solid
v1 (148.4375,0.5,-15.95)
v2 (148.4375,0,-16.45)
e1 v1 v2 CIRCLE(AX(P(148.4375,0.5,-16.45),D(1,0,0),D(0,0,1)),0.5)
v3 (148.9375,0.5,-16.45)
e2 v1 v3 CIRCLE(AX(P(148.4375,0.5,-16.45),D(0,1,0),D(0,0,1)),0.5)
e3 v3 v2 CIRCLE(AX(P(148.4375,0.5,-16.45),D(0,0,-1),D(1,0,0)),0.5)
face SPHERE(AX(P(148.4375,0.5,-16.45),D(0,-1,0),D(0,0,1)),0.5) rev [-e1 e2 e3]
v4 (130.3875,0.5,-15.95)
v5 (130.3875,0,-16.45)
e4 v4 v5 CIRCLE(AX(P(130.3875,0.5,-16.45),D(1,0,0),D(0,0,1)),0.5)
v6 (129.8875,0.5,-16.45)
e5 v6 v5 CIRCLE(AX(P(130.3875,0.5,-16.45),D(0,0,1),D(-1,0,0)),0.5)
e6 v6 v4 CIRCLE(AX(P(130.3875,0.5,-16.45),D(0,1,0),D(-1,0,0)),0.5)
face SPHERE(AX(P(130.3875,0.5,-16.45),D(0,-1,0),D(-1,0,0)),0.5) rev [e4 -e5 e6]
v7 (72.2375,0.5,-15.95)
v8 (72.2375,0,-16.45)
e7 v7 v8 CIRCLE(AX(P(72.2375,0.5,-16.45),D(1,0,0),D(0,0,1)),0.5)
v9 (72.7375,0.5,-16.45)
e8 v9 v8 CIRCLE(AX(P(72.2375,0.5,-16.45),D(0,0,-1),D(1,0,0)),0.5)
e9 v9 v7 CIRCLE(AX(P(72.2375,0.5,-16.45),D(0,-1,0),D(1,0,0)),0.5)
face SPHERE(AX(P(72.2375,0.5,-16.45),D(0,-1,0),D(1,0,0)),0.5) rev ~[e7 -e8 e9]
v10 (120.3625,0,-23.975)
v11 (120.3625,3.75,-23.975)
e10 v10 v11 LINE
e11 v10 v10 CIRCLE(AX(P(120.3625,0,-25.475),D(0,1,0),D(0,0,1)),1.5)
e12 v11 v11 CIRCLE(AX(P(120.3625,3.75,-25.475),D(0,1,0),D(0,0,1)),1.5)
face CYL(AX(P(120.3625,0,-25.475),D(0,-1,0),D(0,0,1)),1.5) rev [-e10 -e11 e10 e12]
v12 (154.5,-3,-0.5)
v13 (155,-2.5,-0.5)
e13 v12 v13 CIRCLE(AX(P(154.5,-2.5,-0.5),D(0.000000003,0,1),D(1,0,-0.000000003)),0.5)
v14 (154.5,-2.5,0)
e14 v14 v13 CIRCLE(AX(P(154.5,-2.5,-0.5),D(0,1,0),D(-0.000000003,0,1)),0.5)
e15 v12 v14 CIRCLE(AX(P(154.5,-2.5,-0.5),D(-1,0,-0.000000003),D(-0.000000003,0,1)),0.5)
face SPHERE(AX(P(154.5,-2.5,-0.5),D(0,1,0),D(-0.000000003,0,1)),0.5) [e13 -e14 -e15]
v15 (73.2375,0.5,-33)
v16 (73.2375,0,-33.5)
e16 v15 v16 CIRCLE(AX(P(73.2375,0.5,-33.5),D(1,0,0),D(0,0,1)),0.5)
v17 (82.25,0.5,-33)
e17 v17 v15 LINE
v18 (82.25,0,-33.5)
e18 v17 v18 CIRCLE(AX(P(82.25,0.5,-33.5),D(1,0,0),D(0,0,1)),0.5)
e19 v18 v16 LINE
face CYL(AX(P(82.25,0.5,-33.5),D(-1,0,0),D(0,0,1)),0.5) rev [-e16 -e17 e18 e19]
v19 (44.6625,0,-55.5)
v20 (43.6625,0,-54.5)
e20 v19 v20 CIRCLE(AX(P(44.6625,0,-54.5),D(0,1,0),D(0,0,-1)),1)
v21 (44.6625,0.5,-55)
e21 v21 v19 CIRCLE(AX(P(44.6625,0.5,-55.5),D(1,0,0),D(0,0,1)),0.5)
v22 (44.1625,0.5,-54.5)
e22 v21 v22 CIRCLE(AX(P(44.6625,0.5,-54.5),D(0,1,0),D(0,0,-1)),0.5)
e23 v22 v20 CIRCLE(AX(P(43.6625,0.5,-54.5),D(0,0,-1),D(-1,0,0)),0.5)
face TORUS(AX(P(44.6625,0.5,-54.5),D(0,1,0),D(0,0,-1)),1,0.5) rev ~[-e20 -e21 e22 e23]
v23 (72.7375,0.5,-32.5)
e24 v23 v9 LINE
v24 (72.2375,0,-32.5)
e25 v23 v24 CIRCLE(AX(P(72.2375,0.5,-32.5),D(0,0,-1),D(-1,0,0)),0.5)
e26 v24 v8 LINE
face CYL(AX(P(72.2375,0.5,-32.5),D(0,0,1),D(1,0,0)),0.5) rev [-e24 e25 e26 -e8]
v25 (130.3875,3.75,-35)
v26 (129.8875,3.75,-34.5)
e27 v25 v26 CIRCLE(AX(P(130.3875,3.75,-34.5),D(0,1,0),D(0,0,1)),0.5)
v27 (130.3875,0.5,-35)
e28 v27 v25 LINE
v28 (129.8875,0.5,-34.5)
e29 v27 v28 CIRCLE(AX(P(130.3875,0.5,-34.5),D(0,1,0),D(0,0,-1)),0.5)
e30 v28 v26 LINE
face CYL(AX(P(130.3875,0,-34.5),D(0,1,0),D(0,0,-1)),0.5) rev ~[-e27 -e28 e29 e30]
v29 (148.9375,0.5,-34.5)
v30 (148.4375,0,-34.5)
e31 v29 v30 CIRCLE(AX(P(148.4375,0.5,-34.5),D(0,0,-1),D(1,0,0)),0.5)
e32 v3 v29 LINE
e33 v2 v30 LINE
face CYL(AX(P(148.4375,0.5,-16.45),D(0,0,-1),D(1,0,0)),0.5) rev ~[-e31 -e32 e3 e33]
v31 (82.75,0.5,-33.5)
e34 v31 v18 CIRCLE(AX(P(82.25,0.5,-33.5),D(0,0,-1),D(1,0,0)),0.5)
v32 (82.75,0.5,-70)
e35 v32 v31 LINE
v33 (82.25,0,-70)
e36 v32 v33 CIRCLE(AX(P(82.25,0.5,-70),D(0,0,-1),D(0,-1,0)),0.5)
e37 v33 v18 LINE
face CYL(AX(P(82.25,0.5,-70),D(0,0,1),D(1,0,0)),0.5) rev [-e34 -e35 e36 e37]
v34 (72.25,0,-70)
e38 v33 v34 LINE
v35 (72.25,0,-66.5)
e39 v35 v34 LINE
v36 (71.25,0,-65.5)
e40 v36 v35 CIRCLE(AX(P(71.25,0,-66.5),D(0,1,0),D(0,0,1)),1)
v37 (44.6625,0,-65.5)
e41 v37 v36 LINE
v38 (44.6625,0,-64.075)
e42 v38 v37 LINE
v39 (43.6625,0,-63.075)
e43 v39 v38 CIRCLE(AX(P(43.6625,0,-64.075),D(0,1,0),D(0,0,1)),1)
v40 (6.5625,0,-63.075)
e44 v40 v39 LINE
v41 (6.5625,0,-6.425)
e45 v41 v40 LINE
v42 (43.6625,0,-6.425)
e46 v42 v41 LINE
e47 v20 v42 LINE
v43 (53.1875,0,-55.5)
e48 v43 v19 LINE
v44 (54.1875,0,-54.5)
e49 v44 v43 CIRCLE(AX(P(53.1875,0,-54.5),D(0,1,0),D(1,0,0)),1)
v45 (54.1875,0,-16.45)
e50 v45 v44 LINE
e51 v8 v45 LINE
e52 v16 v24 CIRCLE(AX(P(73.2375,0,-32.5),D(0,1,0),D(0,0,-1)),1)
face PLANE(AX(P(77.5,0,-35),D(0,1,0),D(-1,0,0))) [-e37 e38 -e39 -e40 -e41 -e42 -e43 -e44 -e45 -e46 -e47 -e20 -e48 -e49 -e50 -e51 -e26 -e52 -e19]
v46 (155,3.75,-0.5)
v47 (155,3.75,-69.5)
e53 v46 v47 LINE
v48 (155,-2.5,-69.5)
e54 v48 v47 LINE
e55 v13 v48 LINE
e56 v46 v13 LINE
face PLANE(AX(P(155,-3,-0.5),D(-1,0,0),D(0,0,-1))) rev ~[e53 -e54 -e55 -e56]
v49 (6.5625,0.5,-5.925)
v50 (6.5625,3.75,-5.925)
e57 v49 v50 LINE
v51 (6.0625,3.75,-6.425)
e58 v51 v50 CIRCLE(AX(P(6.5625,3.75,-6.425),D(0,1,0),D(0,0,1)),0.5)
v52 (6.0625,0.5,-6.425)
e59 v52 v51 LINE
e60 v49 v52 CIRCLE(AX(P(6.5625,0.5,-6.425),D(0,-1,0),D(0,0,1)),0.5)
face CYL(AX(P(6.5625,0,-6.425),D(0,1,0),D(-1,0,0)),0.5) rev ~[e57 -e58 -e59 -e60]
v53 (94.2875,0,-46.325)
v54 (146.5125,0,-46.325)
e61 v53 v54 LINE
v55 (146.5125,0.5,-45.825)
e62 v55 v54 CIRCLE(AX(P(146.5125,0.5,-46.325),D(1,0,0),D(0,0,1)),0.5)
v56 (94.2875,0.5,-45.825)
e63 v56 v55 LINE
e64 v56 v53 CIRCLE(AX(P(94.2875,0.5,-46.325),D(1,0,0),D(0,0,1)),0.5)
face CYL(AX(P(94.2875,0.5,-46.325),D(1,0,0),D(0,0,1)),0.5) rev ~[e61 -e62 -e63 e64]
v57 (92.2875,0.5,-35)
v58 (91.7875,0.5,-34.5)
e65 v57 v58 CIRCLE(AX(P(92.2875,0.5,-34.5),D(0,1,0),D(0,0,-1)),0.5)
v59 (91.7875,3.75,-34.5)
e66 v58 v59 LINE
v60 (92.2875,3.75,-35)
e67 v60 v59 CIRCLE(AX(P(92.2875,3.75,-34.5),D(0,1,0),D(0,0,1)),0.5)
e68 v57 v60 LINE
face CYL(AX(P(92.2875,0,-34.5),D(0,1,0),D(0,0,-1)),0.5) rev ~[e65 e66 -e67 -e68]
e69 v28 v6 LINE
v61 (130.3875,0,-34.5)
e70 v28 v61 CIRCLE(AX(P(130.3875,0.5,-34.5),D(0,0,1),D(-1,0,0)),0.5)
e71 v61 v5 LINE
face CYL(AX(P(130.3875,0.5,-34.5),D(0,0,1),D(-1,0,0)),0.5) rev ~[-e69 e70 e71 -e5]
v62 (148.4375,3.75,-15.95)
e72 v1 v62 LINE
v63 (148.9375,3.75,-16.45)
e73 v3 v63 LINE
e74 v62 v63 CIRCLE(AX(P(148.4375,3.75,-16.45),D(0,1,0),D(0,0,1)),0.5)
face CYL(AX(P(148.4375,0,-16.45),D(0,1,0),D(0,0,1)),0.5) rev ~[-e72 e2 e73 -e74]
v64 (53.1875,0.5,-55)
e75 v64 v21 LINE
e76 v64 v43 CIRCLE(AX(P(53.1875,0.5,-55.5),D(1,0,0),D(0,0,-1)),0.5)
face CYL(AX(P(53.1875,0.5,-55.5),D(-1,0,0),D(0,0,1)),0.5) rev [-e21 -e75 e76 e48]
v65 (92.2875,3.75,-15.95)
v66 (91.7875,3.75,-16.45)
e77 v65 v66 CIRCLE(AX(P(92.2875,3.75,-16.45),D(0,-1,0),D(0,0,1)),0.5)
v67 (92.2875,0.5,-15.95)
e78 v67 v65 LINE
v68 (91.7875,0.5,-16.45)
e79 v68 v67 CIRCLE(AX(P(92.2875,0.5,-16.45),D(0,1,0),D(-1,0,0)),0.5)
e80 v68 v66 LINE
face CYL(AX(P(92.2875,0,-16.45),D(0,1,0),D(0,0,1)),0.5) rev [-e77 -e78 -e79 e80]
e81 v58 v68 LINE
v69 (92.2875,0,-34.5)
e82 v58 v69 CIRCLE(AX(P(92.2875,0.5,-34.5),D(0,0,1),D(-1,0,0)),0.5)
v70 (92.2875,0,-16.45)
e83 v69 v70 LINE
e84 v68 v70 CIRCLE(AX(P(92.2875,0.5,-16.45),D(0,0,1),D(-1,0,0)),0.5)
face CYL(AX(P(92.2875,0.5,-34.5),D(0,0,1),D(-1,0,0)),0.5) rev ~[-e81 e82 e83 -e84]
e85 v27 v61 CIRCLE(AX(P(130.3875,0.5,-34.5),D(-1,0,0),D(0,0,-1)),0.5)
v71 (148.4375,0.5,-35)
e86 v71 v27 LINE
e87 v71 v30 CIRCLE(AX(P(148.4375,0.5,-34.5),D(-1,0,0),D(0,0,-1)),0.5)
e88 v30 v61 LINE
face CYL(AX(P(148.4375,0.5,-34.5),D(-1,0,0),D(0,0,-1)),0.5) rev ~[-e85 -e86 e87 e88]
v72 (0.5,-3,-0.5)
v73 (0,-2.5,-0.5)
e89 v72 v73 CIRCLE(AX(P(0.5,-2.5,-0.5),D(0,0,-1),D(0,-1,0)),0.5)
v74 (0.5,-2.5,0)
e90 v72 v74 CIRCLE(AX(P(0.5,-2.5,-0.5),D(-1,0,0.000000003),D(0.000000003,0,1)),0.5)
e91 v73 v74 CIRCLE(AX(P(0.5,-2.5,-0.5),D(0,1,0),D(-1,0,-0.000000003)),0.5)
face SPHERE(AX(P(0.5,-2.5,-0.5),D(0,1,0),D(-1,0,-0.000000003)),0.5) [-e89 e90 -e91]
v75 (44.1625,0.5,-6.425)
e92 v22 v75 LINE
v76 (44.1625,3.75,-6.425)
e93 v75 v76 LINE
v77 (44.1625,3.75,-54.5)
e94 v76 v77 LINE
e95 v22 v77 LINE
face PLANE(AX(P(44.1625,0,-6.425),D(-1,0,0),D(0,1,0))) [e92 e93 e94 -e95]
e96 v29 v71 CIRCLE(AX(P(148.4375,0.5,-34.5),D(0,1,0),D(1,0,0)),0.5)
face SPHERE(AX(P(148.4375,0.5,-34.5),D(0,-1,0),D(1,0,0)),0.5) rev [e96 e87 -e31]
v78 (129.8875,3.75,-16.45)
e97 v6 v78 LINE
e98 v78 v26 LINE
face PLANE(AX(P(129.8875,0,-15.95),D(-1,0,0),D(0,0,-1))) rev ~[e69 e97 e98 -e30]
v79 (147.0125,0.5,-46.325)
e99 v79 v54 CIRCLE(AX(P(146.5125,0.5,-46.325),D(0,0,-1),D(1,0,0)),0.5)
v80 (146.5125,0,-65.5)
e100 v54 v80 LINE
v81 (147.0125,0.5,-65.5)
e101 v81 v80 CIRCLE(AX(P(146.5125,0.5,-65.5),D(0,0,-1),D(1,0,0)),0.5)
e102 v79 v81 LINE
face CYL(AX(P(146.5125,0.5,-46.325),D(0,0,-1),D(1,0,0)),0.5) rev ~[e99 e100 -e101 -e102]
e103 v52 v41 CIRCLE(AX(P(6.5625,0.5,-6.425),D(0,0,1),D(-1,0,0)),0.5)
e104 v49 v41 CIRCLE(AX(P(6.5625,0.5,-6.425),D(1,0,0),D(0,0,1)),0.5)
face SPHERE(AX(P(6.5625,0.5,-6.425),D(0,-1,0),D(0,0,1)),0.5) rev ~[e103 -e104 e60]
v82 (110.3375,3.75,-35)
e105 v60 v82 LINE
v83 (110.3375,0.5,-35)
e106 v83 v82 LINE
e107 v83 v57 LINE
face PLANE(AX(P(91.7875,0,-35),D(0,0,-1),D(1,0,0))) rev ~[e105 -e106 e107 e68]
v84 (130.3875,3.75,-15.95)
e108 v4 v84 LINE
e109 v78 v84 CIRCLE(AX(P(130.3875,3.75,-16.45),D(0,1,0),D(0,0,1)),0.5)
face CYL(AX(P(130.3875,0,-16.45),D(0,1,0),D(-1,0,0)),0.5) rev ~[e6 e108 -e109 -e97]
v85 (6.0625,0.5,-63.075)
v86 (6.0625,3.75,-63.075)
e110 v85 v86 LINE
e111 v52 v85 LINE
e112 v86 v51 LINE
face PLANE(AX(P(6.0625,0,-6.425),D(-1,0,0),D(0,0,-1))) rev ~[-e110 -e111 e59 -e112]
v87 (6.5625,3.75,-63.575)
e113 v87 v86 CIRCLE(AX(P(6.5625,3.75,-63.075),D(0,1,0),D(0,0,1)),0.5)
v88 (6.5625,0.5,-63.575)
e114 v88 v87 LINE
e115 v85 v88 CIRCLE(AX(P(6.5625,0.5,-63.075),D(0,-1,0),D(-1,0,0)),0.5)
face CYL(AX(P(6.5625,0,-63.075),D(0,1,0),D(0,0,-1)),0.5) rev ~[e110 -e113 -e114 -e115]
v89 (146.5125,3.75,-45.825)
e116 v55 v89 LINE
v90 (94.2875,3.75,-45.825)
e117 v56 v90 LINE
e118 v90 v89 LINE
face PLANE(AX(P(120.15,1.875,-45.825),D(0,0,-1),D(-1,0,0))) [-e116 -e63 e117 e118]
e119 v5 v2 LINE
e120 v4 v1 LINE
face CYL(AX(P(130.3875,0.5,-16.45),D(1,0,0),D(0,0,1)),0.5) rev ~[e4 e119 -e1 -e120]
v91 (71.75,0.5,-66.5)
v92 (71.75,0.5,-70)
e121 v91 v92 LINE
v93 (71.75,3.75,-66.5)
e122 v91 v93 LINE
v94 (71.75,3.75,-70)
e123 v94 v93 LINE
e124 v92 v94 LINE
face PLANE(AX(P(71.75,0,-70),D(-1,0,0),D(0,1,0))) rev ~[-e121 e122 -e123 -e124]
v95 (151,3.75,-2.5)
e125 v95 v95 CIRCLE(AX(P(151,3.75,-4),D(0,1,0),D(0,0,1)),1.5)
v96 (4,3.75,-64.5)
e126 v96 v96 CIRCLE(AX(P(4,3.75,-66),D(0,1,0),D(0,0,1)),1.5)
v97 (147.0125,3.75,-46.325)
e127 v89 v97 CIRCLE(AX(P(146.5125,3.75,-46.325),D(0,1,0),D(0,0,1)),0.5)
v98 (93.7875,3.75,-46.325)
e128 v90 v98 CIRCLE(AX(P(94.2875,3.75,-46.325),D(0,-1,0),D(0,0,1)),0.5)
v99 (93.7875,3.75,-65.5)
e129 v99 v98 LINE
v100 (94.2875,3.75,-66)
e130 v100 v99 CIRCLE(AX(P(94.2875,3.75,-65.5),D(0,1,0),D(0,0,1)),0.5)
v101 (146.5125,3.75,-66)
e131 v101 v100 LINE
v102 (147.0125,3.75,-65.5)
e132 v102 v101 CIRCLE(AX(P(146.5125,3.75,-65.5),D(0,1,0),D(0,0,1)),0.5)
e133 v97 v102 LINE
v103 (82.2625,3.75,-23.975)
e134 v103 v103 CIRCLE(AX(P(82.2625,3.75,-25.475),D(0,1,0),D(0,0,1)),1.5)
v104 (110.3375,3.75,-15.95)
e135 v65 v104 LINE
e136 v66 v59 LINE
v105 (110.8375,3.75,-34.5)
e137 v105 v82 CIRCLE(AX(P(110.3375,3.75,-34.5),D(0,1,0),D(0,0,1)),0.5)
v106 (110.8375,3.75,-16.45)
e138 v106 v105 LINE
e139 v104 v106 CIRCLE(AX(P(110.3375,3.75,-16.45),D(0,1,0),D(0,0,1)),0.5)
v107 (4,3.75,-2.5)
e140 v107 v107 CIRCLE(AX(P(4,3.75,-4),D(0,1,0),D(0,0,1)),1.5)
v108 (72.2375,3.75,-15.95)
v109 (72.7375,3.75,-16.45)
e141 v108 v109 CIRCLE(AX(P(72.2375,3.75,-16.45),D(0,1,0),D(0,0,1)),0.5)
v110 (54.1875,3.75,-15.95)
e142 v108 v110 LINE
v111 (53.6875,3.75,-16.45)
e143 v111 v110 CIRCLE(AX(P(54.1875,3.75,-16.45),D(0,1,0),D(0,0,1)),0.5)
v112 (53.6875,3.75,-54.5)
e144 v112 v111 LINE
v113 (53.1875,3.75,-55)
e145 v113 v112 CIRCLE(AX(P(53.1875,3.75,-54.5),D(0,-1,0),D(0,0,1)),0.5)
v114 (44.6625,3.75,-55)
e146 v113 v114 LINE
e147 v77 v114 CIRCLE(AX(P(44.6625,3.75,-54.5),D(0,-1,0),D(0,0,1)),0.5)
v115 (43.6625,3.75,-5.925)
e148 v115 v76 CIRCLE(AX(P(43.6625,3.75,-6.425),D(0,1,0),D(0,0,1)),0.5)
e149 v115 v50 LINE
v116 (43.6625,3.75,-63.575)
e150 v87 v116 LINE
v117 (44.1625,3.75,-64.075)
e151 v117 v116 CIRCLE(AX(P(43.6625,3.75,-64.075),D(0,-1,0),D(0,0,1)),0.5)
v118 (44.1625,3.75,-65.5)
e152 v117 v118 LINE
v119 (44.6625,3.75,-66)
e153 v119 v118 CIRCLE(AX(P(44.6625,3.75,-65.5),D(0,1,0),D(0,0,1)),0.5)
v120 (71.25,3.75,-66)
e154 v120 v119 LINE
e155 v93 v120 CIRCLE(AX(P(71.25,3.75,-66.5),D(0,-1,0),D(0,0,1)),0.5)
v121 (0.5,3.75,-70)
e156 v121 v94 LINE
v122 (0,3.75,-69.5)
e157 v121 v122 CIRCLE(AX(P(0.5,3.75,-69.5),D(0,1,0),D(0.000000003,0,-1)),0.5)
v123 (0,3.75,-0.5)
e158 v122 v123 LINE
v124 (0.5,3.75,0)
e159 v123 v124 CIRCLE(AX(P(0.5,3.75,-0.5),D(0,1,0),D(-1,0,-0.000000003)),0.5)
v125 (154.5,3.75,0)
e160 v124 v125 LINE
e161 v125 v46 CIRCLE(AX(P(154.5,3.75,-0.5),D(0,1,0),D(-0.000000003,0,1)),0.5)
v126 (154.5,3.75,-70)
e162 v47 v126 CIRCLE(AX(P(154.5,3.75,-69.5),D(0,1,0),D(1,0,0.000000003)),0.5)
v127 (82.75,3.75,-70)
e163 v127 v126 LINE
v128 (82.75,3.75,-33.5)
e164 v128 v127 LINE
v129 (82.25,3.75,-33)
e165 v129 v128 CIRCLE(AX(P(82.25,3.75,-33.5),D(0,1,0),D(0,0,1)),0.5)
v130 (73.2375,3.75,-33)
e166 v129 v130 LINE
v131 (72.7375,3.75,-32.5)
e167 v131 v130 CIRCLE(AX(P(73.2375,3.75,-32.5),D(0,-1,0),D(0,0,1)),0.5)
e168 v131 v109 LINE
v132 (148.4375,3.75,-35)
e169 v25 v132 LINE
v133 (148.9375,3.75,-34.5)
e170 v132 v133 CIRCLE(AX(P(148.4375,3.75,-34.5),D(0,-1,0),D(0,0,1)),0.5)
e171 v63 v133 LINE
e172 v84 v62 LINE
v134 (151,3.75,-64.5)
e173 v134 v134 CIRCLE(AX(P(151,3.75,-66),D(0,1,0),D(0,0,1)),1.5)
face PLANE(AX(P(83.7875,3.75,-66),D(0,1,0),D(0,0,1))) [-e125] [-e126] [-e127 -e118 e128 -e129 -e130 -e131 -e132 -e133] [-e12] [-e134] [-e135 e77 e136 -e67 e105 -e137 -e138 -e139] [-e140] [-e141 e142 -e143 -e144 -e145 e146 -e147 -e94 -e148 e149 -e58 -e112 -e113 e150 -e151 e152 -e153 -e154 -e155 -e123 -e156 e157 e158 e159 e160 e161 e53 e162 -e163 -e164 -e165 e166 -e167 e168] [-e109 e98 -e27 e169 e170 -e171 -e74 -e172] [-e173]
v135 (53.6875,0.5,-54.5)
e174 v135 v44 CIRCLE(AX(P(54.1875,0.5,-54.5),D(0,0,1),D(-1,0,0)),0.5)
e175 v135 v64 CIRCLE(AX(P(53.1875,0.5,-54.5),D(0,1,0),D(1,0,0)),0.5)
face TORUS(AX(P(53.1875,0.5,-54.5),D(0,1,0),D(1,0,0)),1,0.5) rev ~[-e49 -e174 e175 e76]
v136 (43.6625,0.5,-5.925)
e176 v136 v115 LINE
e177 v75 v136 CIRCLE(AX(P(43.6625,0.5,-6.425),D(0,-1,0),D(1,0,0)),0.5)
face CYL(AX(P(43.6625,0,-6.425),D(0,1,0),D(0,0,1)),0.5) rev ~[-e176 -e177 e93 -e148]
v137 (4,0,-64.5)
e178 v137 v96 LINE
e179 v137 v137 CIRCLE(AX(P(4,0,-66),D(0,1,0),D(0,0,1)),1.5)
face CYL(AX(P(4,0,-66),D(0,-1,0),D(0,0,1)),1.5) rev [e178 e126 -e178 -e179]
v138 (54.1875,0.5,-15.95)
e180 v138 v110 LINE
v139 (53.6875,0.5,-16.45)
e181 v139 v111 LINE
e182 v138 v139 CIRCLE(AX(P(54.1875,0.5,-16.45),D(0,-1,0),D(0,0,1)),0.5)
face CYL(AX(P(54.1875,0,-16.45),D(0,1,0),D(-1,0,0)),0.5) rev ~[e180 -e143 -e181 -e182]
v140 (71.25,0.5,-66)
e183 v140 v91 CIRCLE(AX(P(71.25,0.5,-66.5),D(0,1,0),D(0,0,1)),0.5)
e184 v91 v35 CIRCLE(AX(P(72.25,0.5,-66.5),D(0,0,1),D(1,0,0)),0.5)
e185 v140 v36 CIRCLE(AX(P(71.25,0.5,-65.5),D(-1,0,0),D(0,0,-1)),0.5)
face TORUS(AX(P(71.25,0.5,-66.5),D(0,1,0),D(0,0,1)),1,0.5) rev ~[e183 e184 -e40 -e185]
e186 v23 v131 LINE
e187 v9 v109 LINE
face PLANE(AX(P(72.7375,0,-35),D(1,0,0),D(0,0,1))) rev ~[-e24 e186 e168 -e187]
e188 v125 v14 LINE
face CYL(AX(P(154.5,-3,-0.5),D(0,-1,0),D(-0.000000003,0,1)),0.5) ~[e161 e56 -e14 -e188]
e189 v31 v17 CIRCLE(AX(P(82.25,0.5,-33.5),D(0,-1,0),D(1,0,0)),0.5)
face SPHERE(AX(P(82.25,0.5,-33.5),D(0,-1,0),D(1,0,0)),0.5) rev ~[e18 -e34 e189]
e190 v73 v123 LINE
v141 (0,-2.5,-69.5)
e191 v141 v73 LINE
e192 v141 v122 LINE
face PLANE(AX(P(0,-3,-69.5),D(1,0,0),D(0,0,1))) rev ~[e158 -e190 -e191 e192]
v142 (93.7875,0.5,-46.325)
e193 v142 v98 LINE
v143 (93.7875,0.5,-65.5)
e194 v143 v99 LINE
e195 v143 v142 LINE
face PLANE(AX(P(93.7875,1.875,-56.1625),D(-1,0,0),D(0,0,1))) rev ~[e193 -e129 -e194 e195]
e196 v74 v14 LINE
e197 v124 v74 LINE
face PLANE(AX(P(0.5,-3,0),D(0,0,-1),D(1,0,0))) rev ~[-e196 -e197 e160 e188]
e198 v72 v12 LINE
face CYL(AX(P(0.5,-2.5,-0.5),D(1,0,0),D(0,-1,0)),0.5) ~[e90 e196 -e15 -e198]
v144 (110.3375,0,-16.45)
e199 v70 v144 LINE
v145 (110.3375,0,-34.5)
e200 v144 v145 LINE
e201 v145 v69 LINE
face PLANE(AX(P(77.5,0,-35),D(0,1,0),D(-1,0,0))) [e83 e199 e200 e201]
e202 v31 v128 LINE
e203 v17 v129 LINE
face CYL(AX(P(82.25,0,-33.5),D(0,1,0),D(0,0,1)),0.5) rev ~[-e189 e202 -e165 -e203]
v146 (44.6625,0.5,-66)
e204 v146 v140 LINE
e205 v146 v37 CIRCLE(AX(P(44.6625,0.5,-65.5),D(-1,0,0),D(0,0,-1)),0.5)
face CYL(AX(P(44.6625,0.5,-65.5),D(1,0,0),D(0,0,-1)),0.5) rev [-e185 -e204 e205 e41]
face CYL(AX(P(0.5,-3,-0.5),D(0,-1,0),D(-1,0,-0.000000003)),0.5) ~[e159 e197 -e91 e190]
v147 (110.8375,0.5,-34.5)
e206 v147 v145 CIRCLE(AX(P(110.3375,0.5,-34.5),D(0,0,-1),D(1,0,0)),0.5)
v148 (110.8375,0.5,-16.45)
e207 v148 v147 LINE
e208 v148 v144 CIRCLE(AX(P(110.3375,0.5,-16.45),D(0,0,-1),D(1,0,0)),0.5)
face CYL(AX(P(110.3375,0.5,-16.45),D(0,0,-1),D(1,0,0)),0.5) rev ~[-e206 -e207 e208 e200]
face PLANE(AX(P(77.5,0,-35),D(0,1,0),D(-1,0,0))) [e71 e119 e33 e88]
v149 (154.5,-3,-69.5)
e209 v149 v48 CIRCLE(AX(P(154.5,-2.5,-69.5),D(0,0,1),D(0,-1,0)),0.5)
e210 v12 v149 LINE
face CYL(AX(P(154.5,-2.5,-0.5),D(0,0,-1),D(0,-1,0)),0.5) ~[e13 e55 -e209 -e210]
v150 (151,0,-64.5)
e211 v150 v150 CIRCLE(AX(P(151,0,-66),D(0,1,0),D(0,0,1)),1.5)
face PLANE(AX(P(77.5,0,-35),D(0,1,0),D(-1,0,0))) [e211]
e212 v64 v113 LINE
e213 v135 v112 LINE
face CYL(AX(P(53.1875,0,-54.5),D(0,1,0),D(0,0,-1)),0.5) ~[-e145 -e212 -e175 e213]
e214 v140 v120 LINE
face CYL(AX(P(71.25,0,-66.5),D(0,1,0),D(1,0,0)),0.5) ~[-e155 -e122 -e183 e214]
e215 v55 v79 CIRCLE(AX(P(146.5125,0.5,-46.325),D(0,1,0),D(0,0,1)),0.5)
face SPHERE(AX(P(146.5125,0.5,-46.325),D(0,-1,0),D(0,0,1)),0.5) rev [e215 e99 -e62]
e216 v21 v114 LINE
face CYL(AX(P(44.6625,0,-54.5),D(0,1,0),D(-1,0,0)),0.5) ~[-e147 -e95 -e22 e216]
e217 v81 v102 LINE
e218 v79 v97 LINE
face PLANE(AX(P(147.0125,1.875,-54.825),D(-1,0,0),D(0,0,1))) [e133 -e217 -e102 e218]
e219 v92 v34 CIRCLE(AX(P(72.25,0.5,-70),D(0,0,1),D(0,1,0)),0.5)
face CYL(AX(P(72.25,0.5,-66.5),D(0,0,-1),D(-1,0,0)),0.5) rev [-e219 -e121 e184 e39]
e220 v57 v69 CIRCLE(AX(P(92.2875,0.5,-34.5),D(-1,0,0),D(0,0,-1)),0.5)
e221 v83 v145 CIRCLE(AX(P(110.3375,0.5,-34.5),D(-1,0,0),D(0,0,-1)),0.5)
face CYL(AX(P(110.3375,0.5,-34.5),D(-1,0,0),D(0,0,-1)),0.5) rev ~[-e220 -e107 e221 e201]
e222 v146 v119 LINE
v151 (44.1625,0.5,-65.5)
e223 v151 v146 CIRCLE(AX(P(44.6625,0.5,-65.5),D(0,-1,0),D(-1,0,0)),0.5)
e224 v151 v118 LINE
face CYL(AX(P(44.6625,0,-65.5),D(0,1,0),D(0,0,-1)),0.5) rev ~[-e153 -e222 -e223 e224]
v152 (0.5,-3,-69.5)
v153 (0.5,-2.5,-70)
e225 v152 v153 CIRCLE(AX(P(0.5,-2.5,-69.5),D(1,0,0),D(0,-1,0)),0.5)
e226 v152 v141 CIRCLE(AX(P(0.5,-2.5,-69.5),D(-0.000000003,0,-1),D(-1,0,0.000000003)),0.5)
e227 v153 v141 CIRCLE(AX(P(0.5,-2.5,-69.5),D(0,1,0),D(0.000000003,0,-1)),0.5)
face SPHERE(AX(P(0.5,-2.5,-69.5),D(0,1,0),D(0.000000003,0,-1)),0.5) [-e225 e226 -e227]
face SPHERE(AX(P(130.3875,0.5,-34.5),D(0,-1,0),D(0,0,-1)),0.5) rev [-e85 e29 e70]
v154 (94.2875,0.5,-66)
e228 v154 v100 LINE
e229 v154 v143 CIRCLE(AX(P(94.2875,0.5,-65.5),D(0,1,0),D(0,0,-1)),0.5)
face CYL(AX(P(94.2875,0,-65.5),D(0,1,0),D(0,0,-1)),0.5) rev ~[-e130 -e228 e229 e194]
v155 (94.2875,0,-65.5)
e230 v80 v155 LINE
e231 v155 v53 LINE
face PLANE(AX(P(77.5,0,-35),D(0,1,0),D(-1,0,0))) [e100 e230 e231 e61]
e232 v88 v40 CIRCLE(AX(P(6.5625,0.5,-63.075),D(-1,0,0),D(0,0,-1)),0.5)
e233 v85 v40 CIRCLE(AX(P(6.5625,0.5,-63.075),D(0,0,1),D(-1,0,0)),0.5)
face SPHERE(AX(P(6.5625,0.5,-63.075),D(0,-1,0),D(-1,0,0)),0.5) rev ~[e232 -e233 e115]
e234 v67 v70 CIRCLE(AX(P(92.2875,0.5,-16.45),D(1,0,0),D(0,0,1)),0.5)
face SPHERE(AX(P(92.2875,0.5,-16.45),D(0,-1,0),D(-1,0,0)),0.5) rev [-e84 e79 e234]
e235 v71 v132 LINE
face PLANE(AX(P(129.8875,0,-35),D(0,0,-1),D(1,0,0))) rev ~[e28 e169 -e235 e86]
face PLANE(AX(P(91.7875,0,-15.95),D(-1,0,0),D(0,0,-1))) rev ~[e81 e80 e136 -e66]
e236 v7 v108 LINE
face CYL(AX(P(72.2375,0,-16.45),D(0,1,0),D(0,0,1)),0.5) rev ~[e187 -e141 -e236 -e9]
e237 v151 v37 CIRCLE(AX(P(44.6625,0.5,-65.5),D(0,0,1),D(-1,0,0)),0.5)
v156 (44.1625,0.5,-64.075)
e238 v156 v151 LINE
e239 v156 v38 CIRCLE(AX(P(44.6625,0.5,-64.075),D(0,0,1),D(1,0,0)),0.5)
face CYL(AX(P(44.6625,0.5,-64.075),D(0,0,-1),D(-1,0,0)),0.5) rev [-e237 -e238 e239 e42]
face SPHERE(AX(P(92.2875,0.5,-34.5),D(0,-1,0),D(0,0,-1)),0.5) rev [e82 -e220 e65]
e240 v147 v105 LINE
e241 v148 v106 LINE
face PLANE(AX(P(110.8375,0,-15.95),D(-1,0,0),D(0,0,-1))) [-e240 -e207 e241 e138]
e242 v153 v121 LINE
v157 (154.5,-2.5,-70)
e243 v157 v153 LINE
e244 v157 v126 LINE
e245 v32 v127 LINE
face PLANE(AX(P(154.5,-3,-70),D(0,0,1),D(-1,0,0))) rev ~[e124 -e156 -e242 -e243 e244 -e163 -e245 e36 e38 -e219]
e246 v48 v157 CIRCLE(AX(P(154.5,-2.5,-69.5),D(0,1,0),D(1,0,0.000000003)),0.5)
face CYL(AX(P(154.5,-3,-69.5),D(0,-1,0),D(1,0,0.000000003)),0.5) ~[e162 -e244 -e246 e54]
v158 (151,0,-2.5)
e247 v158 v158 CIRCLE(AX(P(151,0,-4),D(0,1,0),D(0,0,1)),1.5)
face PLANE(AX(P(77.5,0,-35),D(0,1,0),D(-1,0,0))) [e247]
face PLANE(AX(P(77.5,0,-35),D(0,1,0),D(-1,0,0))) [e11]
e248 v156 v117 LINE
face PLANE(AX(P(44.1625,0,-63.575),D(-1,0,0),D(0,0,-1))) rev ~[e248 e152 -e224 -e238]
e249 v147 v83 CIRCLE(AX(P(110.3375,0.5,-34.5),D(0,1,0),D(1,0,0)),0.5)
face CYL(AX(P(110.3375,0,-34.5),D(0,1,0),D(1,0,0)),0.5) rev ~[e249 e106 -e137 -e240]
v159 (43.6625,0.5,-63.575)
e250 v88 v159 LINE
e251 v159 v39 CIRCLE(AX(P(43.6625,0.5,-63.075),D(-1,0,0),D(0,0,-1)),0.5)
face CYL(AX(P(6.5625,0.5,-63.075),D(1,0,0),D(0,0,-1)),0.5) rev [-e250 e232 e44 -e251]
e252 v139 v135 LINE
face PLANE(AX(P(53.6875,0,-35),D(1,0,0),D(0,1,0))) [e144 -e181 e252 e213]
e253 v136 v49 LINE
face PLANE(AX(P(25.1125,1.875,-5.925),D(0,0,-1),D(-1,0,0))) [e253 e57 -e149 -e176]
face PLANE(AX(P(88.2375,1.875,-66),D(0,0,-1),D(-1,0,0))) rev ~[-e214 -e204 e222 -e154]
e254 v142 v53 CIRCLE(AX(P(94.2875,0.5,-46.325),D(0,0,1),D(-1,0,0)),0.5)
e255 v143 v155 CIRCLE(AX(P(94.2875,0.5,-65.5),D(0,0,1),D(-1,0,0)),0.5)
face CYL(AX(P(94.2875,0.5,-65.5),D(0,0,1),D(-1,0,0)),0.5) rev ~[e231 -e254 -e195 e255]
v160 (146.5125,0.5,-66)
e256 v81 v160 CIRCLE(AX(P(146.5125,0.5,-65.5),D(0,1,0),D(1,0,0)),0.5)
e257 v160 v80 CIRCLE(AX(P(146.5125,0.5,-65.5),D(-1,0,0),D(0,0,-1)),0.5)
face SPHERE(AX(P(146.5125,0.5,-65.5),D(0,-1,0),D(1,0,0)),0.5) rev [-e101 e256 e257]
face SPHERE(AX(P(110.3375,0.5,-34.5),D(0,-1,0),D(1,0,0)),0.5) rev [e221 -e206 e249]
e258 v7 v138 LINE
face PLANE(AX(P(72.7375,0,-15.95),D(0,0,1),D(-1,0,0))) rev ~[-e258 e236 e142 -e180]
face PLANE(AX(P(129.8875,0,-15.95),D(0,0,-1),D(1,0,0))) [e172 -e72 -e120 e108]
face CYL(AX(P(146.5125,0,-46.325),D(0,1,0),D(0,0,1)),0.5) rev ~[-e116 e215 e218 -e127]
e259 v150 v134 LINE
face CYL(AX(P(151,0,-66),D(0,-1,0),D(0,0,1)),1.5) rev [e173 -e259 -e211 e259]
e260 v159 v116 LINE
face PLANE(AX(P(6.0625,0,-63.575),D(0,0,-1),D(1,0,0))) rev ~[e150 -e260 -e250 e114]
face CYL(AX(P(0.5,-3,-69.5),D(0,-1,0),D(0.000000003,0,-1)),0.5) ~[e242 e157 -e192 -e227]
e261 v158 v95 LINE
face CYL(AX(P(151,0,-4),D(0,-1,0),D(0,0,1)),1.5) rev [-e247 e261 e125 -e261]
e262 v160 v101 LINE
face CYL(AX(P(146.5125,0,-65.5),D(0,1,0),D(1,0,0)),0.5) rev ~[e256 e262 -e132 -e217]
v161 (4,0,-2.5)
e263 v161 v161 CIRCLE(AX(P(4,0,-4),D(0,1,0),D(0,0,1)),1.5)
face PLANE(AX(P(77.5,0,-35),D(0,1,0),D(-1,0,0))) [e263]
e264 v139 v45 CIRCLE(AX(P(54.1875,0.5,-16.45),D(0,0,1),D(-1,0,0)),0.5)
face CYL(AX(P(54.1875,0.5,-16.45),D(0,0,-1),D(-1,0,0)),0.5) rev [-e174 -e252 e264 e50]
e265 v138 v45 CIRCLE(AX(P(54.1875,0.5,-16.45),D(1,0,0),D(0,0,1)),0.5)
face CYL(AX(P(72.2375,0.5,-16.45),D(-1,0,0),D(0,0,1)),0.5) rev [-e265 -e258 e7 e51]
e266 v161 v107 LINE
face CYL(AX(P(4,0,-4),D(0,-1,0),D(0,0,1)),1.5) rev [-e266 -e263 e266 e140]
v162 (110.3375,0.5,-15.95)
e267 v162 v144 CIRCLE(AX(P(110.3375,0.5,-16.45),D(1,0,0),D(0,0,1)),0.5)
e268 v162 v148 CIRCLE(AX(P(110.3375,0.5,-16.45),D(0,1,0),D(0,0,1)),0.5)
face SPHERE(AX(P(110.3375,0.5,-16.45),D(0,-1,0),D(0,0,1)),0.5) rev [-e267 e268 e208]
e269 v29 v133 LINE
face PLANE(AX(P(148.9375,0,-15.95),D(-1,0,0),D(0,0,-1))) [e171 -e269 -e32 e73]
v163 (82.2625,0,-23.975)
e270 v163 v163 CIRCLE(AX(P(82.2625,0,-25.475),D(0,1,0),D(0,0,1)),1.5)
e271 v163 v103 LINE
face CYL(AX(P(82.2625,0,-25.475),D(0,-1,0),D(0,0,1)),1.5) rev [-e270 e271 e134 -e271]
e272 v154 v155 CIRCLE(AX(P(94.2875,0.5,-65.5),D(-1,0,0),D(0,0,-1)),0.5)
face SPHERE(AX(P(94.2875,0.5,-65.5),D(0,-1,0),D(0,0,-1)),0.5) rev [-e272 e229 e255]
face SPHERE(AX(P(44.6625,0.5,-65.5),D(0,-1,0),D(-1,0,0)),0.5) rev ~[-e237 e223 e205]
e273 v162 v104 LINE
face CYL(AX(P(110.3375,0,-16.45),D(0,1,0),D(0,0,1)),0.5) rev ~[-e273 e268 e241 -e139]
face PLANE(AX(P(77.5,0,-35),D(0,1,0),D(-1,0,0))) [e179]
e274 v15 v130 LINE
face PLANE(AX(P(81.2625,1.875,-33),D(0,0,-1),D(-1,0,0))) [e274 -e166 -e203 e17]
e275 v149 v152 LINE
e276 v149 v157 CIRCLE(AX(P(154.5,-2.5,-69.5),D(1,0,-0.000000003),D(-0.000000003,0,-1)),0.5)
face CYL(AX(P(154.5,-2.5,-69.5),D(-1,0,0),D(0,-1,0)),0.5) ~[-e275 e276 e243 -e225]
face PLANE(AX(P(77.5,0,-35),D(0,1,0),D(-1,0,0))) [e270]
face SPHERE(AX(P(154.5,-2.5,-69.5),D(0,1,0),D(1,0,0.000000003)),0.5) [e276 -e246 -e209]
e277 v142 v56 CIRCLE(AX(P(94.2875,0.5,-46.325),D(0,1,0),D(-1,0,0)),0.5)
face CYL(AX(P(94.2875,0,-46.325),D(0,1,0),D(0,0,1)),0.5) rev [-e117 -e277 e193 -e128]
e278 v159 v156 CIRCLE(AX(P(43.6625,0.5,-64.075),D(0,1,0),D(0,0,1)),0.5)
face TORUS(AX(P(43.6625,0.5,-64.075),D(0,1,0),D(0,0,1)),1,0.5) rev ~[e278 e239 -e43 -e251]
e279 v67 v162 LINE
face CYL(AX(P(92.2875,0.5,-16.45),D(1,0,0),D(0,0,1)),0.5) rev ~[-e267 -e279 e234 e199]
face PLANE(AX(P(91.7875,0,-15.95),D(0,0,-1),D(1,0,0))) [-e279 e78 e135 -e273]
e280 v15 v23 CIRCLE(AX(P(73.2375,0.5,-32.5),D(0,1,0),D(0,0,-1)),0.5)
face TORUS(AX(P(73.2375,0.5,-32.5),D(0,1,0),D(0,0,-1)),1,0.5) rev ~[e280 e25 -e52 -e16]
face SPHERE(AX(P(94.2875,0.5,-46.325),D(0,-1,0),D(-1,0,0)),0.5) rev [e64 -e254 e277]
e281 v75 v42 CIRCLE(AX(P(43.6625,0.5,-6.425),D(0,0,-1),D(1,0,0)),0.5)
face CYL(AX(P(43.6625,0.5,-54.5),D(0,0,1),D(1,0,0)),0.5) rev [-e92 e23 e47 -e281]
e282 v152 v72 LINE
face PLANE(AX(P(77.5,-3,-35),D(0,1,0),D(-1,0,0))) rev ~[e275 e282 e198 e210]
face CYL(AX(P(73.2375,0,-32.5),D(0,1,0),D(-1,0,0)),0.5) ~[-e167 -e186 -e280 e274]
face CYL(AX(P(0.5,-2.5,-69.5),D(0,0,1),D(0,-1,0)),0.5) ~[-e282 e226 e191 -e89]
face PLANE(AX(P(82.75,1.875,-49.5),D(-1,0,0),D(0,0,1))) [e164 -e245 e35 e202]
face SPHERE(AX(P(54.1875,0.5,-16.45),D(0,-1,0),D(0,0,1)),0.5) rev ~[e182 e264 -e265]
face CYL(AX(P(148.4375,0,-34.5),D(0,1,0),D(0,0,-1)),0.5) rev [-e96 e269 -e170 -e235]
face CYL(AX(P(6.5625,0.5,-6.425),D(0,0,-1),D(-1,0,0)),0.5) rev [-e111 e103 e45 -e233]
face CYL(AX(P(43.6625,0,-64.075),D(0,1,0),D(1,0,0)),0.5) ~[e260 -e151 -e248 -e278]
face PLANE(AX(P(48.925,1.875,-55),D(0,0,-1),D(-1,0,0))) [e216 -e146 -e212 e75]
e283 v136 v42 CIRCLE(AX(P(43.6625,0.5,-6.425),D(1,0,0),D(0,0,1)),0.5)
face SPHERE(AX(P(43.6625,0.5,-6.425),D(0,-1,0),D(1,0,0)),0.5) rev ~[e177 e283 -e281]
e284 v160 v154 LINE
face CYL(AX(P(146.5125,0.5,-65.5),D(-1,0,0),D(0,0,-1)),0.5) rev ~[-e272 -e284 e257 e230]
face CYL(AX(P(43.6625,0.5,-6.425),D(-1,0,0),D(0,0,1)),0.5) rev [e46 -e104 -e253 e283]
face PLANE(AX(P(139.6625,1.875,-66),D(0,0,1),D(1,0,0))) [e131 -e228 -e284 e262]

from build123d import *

# Parameters (mm, degrees)
SKETCH1_R           = 1.5
SKETCH1_W           = 19.05
SKETCH1_H           = 19.05
BOSS_EXTRUDE1_DEPTH = 3.75
SKETCH2_W           = 9.525
SKETCH2_H           = 3.75
BOSS_EXTRUDE2_DEPTH = 20
SKETCH3_W           = 17.05
SKETCH3_H           = 3.75
CUT_EXTRUDE1_DEPTH  = 2
SKETCH4_W           = 88.15
SKETCH4_H           = 3.75
BOSS_EXTRUDE3_DEPTH = 4
SKETCH5_W           = 13.325
SKETCH5_H           = 3.75
BOSS_EXTRUDE4_DEPTH = 6
SKETCH6_W           = 19.675
SKETCH6_H           = 3.75
BOSS_EXTRUDE5_DEPTH = 10
SKETCH7_W           = 11
SKETCH7_H           = 3.75
CUT_EXTRUDE2_DEPTH  = 4
SKETCH8_W           = 33
SKETCH8_H           = 3.75
BOSS_EXTRUDE6_DEPTH = 1.0375
SKETCH9_W           = 38.1
SKETCH9_H           = 3.75
CUT_EXTRUDE3_DEPTH  = 0.5
SKETCH10_W          = 52.725
SKETCH10_H          = 3.75
CUT_EXTRUDE4_DEPTH  = 0.5
SKETCH11_W          = 18
SKETCH11_H          = 3.75
CUT_EXTRUDE5_DEPTH  = 0.5
SKETCH13_W          = 14.7
SKETCH13_H          = 3.75
CUT_EXTRUDE6_DEPTH  = 2.175
FILLET1_R           = 0.5
BOSS_EXTRUDE7_START = 3
BOSS_EXTRUDE7_DEPTH = 3
FILLET2_R           = 0.5
FILLET3_R           = 0.5


with BuildPart() as part:
    # Sketch1 → Boss-Extrude1 (new body)
    with BuildSketch(Plane(origin=(0, 0, 0), x_dir=(1, 0, 0), z_dir=(0, 1, 0))):
        with BuildLine():
            ThreePointArc((0, 0.5), (0.146446609, 0.146446609), (0.5, 0))
            Line((0.5, 0), (154.5, 0))
            ThreePointArc((154.5, 0), (154.853553391, 0.146446609), (155, 0.5))
            Line((155, 0.5), (155, 69.5))
            ThreePointArc((155, 69.5), (154.853553391, 69.853553391), (154.5, 70))
            Line((154.5, 70), (132.3125, 70))
            Line((132.3125, 70), (132.3125, 63.825))
            Line((132.3125, 63.825), (146.5125, 63.825))
            Line((146.5125, 63.825), (146.5125, 46.325))
            Line((146.5125, 46.325), (132.3125, 46.325))
            Line((132.3125, 46.325), (91.7875, 46.325))
            Line((91.7875, 46.325), (89.7875, 46.325))
            Line((89.7875, 46.325), (89.7875, 35))
            Line((89.7875, 35), (72.7375, 35))
            Line((72.7375, 35), (72.7375, 15.95))
            Line((72.7375, 15.95), (53.6875, 15.95))
            Line((53.6875, 15.95), (53.6875, 35))
            Line((53.6875, 35), (44.1625, 35))
            Line((44.1625, 35), (44.1625, 6.425))
            Line((44.1625, 6.425), (6.0625, 6.425))
            Line((6.0625, 6.425), (6.0625, 63.575))
            Line((6.0625, 63.575), (44.1625, 63.575))
            Line((44.1625, 63.575), (44.1625, 70))
            Line((44.1625, 70), (0.5, 70))
            ThreePointArc((0.5, 70), (0.146446609, 69.853553391), (0, 69.5))
            Line((0, 69.5), (0, 0.5))
        make_face()
        with Locations(Location((4, 4, 0), (0, 0, 270))):
            Circle(SKETCH1_R, mode=Mode.SUBTRACT)
        with Locations(Location((151, 4, 0), (0, 0, 270))):
            Circle(SKETCH1_R, mode=Mode.SUBTRACT)
        with Locations(Location((82.2625, 25.475, 0), (0, 0, 270))):
            Circle(SKETCH1_R, mode=Mode.SUBTRACT)
        with Locations((101.3125, 25.475)):
            Rectangle(SKETCH1_W, SKETCH1_H, mode=Mode.SUBTRACT)
        with Locations(Location((120.3625, 25.475, 0), (0, 0, 270))):
            Circle(SKETCH1_R, mode=Mode.SUBTRACT)
        with Locations((139.4125, 25.475)):
            Rectangle(SKETCH1_W, SKETCH1_H, mode=Mode.SUBTRACT)
        with Locations(Location((4, 66, 0), (0, 0, 270))):
            Circle(SKETCH1_R, mode=Mode.SUBTRACT)
        with Locations(Location((151, 66, 0), (0, 0, 270))):
            Circle(SKETCH1_R, mode=Mode.SUBTRACT)
    extrude(amount=BOSS_EXTRUDE1_DEPTH)

    # Sketch2 → Boss-Extrude2 (add)
    with BuildSketch(Plane(origin=(0, 0, -35), x_dir=(-1, 0, 0), z_dir=(0, 0, -1))):
        with Locations((-48.925, 1.875)):
            Rectangle(SKETCH2_W, SKETCH2_H)
    extrude(amount=BOSS_EXTRUDE2_DEPTH)

    # Sketch3 → Cut-Extrude1 (cut)
    with BuildSketch(Plane(origin=(0, 0, -35), x_dir=(-1, 0, 0), z_dir=(0, 0, -1))):
        with Locations((-81.2625, 1.875)):
            Rectangle(SKETCH3_W, SKETCH3_H)
    extrude(amount=-CUT_EXTRUDE1_DEPTH, mode=Mode.SUBTRACT)

    # Sketch4 → Boss-Extrude3 (add)
    with BuildSketch(Plane(origin=(0, 0, -70), x_dir=(-1, 0, 0), z_dir=(0, 0, -1))):
        with Locations((-88.2375, 1.875)):
            Rectangle(SKETCH4_W, SKETCH4_H)
    extrude(amount=-BOSS_EXTRUDE3_DEPTH)

    # Sketch5 → Boss-Extrude4 (add)
    with BuildSketch(Plane.ZY.offset(-89.7875)):
        with Locations((-39.6625, 1.875)):
            Rectangle(SKETCH5_W, SKETCH5_H)
    extrude(amount=BOSS_EXTRUDE4_DEPTH)

    # Sketch6 → Boss-Extrude5 (add)
    with BuildSketch(Plane.ZY.offset(-83.7875)):
        with Locations((-56.1625, 1.875)):
            Rectangle(SKETCH6_W, SKETCH6_H)
    extrude(amount=-BOSS_EXTRUDE5_DEPTH)

    # Sketch7 → Cut-Extrude2 (cut)
    with BuildSketch(Plane(origin=(0, 0, -70), x_dir=(-1, 0, 0), z_dir=(0, 0, -1))):
        with Locations((-77.25, 1.875)):
            Rectangle(SKETCH7_W, SKETCH7_H)
    extrude(amount=-CUT_EXTRUDE2_DEPTH, mode=Mode.SUBTRACT)

    # Sketch8 → Boss-Extrude6 (add)
    with BuildSketch(Plane.ZY.offset(-83.7875)):
        with Locations((-49.5, 1.875)):
            Rectangle(SKETCH8_W, SKETCH8_H)
    extrude(amount=BOSS_EXTRUDE6_DEPTH)

    # Sketch9 → Cut-Extrude3 (cut)
    with BuildSketch(Plane(origin=(0, 0, -6.425), x_dir=(-1, 0, 0), z_dir=(0, 0, -1))):
        with Locations((-25.1125, 1.875)):
            Rectangle(SKETCH9_W, SKETCH9_H)
    extrude(amount=-CUT_EXTRUDE3_DEPTH, mode=Mode.SUBTRACT)

    # Sketch10 → Cut-Extrude4 (cut)
    with BuildSketch(Plane(origin=(0, 0, -46.325), x_dir=(-1, 0, 0), z_dir=(0, 0, -1))):
        with Locations((-120.15, 1.875)):
            Rectangle(SKETCH10_W, SKETCH10_H)
    extrude(amount=-CUT_EXTRUDE4_DEPTH, mode=Mode.SUBTRACT)

    # Sketch11 → Cut-Extrude5 (cut)
    with BuildSketch(Plane.ZY.offset(-146.5125)):
        with Locations((-54.825, 1.875)):
            Rectangle(SKETCH11_W, SKETCH11_H)
    extrude(amount=-CUT_EXTRUDE5_DEPTH, mode=Mode.SUBTRACT)

    # Sketch13 → Cut-Extrude6 (cut)
    with BuildSketch(Plane.XY.offset(-63.825)):
        with Locations((139.6625, 1.875)):
            Rectangle(SKETCH13_W, SKETCH13_H)
    extrude(amount=-CUT_EXTRUDE6_DEPTH, mode=Mode.SUBTRACT)

    # Fillet1
    fillet1_edges = [part.edges().sort_by_distance(p)[0] for p in [
        (72.7375, 1.875, -33),
        (129.8875, 1.875, -35),
        (91.7875, 1.875, -35),
        (44.1625, 1.875, -66),
        (93.7875, 1.875, -66),
        (71.75, 1.875, -66),
        (82.75, 1.875, -33),
        (44.1625, 1.875, -5.925),
        (6.0625, 1.875, -5.925),
        (93.7875, 1.875, -45.825),
        (147.0125, 1.875, -45.825),
        (147.0125, 1.875, -66),
        (72.7375, 1.875, -15.95),
        (53.6875, 1.875, -15.95),
        (6.0625, 1.875, -63.575),
        (148.9375, 1.875, -35),
        (148.9375, 1.875, -15.95),
        (129.8875, 1.875, -15.95),
        (53.6875, 1.875, -55),
        (44.1625, 1.875, -55),
        (110.8375, 1.875, -35),
        (110.8375, 1.875, -15.95),
        (91.7875, 1.875, -15.95),
        (44.1625, 1.875, -63.575),
    ]]
    fillet(fillet1_edges, radius=FILLET1_R)

    # Sketch12 → Boss-Extrude7 (add)
    with BuildSketch(Plane.XZ.offset(BOSS_EXTRUDE7_START)):
        with BuildLine():
            Line((155, -0.5), (155, -69.5))
            ThreePointArc((155, -69.5), (154.853553391, -69.853553391), (154.5, -70))
            Line((154.5, -70), (0.5, -70))
            ThreePointArc((0.5, -70), (0.146446609, -69.853553391), (0, -69.5))
            Line((0, -69.5), (0, -0.5))
            ThreePointArc((0, -0.5), (0.146446609, -0.146446609), (0.5, 0))
            Line((0.5, 0), (154.5, 0))
            ThreePointArc((154.5, 0), (154.853553391, -0.146446609), (155, -0.5))
        make_face()
    extrude(amount=-BOSS_EXTRUDE7_DEPTH)

    # Fillet2
    fillet2_edges = [part.edges().sort_by_distance(p)[0] for p in [
        (154.853553391, -3, -0.146446609),
        (77.5, -3, 0),
        (0.146446609, -3, -0.146446609),
        (0, -3, -35),
        (0.146446609, -3, -69.853553391),
        (77.5, -3, -70),
        (154.853553391, -3, -69.853553391),
        (155, -3, -35),
    ]]
    fillet(fillet2_edges, radius=FILLET2_R)

    # Fillet3
    fillet3_edges = [part.edges().sort_by_distance(p)[0] for p in [
        (147.0125, 0, -55.9125),
        (120.4, 0, -66),
        (120.4, 0, -45.825),
        (53.6875, 0, -35.475),
        (63.2125, 0, -15.95),
        (25.1125, 0, -5.925),
        (44.1625, 0, -30.4625),
        (6.0625, 0, -34.75),
        (25.1125, 0, -63.575),
        (48.925, 0, -55),
        (93.7875, 0, -55.9125),
        (72.7375, 0, -24.475),
        (77.74375, 0, -33),
        (82.75, 0, -51.75),
        (71.75, 0, -68.25),
        (57.95625, 0, -66),
        (44.1625, 0, -64.7875),
        (110.8375, 0, -25.475),
        (101.3125, 0, -35),
        (91.7875, 0, -25.475),
        (101.3125, 0, -15.95),
        (148.9375, 0, -25.475),
        (139.4125, 0, -35),
        (129.8875, 0, -25.475),
        (139.4125, 0, -15.95),
        (72.883946609, 0, -32.853553391),
        (71.603553391, 0, -66.146446609),
        (44.016053391, 0, -63.721446609),
        (53.541053391, 0, -54.853553391),
        (44.308946609, 0, -54.853553391),
        (146.866053391, 0, -65.853553391),
        (146.866053391, 0, -45.971446609),
        (53.833946609, 0, -16.096446609),
        (44.016053391, 0, -6.071446609),
        (6.208946609, 0, -6.071446609),
        (6.208946609, 0, -63.428553391),
        (44.308946609, 0, -65.853553391),
        (72.591053391, 0, -16.096446609),
        (82.603553391, 0, -33.146446609),
        (93.933946609, 0, -65.853553391),
        (93.933946609, 0, -45.971446609),
        (91.933946609, 0, -16.096446609),
        (91.933946609, 0, -34.853553391),
        (110.691053391, 0, -16.096446609),
        (110.691053391, 0, -34.853553391),
        (130.033946609, 0, -16.096446609),
        (130.033946609, 0, -34.853553391),
        (148.791053391, 0, -34.853553391),
        (148.791053391, 0, -16.096446609),
    ]]
    fillet(fillet3_edges, radius=FILLET3_R)


solid = part.part
